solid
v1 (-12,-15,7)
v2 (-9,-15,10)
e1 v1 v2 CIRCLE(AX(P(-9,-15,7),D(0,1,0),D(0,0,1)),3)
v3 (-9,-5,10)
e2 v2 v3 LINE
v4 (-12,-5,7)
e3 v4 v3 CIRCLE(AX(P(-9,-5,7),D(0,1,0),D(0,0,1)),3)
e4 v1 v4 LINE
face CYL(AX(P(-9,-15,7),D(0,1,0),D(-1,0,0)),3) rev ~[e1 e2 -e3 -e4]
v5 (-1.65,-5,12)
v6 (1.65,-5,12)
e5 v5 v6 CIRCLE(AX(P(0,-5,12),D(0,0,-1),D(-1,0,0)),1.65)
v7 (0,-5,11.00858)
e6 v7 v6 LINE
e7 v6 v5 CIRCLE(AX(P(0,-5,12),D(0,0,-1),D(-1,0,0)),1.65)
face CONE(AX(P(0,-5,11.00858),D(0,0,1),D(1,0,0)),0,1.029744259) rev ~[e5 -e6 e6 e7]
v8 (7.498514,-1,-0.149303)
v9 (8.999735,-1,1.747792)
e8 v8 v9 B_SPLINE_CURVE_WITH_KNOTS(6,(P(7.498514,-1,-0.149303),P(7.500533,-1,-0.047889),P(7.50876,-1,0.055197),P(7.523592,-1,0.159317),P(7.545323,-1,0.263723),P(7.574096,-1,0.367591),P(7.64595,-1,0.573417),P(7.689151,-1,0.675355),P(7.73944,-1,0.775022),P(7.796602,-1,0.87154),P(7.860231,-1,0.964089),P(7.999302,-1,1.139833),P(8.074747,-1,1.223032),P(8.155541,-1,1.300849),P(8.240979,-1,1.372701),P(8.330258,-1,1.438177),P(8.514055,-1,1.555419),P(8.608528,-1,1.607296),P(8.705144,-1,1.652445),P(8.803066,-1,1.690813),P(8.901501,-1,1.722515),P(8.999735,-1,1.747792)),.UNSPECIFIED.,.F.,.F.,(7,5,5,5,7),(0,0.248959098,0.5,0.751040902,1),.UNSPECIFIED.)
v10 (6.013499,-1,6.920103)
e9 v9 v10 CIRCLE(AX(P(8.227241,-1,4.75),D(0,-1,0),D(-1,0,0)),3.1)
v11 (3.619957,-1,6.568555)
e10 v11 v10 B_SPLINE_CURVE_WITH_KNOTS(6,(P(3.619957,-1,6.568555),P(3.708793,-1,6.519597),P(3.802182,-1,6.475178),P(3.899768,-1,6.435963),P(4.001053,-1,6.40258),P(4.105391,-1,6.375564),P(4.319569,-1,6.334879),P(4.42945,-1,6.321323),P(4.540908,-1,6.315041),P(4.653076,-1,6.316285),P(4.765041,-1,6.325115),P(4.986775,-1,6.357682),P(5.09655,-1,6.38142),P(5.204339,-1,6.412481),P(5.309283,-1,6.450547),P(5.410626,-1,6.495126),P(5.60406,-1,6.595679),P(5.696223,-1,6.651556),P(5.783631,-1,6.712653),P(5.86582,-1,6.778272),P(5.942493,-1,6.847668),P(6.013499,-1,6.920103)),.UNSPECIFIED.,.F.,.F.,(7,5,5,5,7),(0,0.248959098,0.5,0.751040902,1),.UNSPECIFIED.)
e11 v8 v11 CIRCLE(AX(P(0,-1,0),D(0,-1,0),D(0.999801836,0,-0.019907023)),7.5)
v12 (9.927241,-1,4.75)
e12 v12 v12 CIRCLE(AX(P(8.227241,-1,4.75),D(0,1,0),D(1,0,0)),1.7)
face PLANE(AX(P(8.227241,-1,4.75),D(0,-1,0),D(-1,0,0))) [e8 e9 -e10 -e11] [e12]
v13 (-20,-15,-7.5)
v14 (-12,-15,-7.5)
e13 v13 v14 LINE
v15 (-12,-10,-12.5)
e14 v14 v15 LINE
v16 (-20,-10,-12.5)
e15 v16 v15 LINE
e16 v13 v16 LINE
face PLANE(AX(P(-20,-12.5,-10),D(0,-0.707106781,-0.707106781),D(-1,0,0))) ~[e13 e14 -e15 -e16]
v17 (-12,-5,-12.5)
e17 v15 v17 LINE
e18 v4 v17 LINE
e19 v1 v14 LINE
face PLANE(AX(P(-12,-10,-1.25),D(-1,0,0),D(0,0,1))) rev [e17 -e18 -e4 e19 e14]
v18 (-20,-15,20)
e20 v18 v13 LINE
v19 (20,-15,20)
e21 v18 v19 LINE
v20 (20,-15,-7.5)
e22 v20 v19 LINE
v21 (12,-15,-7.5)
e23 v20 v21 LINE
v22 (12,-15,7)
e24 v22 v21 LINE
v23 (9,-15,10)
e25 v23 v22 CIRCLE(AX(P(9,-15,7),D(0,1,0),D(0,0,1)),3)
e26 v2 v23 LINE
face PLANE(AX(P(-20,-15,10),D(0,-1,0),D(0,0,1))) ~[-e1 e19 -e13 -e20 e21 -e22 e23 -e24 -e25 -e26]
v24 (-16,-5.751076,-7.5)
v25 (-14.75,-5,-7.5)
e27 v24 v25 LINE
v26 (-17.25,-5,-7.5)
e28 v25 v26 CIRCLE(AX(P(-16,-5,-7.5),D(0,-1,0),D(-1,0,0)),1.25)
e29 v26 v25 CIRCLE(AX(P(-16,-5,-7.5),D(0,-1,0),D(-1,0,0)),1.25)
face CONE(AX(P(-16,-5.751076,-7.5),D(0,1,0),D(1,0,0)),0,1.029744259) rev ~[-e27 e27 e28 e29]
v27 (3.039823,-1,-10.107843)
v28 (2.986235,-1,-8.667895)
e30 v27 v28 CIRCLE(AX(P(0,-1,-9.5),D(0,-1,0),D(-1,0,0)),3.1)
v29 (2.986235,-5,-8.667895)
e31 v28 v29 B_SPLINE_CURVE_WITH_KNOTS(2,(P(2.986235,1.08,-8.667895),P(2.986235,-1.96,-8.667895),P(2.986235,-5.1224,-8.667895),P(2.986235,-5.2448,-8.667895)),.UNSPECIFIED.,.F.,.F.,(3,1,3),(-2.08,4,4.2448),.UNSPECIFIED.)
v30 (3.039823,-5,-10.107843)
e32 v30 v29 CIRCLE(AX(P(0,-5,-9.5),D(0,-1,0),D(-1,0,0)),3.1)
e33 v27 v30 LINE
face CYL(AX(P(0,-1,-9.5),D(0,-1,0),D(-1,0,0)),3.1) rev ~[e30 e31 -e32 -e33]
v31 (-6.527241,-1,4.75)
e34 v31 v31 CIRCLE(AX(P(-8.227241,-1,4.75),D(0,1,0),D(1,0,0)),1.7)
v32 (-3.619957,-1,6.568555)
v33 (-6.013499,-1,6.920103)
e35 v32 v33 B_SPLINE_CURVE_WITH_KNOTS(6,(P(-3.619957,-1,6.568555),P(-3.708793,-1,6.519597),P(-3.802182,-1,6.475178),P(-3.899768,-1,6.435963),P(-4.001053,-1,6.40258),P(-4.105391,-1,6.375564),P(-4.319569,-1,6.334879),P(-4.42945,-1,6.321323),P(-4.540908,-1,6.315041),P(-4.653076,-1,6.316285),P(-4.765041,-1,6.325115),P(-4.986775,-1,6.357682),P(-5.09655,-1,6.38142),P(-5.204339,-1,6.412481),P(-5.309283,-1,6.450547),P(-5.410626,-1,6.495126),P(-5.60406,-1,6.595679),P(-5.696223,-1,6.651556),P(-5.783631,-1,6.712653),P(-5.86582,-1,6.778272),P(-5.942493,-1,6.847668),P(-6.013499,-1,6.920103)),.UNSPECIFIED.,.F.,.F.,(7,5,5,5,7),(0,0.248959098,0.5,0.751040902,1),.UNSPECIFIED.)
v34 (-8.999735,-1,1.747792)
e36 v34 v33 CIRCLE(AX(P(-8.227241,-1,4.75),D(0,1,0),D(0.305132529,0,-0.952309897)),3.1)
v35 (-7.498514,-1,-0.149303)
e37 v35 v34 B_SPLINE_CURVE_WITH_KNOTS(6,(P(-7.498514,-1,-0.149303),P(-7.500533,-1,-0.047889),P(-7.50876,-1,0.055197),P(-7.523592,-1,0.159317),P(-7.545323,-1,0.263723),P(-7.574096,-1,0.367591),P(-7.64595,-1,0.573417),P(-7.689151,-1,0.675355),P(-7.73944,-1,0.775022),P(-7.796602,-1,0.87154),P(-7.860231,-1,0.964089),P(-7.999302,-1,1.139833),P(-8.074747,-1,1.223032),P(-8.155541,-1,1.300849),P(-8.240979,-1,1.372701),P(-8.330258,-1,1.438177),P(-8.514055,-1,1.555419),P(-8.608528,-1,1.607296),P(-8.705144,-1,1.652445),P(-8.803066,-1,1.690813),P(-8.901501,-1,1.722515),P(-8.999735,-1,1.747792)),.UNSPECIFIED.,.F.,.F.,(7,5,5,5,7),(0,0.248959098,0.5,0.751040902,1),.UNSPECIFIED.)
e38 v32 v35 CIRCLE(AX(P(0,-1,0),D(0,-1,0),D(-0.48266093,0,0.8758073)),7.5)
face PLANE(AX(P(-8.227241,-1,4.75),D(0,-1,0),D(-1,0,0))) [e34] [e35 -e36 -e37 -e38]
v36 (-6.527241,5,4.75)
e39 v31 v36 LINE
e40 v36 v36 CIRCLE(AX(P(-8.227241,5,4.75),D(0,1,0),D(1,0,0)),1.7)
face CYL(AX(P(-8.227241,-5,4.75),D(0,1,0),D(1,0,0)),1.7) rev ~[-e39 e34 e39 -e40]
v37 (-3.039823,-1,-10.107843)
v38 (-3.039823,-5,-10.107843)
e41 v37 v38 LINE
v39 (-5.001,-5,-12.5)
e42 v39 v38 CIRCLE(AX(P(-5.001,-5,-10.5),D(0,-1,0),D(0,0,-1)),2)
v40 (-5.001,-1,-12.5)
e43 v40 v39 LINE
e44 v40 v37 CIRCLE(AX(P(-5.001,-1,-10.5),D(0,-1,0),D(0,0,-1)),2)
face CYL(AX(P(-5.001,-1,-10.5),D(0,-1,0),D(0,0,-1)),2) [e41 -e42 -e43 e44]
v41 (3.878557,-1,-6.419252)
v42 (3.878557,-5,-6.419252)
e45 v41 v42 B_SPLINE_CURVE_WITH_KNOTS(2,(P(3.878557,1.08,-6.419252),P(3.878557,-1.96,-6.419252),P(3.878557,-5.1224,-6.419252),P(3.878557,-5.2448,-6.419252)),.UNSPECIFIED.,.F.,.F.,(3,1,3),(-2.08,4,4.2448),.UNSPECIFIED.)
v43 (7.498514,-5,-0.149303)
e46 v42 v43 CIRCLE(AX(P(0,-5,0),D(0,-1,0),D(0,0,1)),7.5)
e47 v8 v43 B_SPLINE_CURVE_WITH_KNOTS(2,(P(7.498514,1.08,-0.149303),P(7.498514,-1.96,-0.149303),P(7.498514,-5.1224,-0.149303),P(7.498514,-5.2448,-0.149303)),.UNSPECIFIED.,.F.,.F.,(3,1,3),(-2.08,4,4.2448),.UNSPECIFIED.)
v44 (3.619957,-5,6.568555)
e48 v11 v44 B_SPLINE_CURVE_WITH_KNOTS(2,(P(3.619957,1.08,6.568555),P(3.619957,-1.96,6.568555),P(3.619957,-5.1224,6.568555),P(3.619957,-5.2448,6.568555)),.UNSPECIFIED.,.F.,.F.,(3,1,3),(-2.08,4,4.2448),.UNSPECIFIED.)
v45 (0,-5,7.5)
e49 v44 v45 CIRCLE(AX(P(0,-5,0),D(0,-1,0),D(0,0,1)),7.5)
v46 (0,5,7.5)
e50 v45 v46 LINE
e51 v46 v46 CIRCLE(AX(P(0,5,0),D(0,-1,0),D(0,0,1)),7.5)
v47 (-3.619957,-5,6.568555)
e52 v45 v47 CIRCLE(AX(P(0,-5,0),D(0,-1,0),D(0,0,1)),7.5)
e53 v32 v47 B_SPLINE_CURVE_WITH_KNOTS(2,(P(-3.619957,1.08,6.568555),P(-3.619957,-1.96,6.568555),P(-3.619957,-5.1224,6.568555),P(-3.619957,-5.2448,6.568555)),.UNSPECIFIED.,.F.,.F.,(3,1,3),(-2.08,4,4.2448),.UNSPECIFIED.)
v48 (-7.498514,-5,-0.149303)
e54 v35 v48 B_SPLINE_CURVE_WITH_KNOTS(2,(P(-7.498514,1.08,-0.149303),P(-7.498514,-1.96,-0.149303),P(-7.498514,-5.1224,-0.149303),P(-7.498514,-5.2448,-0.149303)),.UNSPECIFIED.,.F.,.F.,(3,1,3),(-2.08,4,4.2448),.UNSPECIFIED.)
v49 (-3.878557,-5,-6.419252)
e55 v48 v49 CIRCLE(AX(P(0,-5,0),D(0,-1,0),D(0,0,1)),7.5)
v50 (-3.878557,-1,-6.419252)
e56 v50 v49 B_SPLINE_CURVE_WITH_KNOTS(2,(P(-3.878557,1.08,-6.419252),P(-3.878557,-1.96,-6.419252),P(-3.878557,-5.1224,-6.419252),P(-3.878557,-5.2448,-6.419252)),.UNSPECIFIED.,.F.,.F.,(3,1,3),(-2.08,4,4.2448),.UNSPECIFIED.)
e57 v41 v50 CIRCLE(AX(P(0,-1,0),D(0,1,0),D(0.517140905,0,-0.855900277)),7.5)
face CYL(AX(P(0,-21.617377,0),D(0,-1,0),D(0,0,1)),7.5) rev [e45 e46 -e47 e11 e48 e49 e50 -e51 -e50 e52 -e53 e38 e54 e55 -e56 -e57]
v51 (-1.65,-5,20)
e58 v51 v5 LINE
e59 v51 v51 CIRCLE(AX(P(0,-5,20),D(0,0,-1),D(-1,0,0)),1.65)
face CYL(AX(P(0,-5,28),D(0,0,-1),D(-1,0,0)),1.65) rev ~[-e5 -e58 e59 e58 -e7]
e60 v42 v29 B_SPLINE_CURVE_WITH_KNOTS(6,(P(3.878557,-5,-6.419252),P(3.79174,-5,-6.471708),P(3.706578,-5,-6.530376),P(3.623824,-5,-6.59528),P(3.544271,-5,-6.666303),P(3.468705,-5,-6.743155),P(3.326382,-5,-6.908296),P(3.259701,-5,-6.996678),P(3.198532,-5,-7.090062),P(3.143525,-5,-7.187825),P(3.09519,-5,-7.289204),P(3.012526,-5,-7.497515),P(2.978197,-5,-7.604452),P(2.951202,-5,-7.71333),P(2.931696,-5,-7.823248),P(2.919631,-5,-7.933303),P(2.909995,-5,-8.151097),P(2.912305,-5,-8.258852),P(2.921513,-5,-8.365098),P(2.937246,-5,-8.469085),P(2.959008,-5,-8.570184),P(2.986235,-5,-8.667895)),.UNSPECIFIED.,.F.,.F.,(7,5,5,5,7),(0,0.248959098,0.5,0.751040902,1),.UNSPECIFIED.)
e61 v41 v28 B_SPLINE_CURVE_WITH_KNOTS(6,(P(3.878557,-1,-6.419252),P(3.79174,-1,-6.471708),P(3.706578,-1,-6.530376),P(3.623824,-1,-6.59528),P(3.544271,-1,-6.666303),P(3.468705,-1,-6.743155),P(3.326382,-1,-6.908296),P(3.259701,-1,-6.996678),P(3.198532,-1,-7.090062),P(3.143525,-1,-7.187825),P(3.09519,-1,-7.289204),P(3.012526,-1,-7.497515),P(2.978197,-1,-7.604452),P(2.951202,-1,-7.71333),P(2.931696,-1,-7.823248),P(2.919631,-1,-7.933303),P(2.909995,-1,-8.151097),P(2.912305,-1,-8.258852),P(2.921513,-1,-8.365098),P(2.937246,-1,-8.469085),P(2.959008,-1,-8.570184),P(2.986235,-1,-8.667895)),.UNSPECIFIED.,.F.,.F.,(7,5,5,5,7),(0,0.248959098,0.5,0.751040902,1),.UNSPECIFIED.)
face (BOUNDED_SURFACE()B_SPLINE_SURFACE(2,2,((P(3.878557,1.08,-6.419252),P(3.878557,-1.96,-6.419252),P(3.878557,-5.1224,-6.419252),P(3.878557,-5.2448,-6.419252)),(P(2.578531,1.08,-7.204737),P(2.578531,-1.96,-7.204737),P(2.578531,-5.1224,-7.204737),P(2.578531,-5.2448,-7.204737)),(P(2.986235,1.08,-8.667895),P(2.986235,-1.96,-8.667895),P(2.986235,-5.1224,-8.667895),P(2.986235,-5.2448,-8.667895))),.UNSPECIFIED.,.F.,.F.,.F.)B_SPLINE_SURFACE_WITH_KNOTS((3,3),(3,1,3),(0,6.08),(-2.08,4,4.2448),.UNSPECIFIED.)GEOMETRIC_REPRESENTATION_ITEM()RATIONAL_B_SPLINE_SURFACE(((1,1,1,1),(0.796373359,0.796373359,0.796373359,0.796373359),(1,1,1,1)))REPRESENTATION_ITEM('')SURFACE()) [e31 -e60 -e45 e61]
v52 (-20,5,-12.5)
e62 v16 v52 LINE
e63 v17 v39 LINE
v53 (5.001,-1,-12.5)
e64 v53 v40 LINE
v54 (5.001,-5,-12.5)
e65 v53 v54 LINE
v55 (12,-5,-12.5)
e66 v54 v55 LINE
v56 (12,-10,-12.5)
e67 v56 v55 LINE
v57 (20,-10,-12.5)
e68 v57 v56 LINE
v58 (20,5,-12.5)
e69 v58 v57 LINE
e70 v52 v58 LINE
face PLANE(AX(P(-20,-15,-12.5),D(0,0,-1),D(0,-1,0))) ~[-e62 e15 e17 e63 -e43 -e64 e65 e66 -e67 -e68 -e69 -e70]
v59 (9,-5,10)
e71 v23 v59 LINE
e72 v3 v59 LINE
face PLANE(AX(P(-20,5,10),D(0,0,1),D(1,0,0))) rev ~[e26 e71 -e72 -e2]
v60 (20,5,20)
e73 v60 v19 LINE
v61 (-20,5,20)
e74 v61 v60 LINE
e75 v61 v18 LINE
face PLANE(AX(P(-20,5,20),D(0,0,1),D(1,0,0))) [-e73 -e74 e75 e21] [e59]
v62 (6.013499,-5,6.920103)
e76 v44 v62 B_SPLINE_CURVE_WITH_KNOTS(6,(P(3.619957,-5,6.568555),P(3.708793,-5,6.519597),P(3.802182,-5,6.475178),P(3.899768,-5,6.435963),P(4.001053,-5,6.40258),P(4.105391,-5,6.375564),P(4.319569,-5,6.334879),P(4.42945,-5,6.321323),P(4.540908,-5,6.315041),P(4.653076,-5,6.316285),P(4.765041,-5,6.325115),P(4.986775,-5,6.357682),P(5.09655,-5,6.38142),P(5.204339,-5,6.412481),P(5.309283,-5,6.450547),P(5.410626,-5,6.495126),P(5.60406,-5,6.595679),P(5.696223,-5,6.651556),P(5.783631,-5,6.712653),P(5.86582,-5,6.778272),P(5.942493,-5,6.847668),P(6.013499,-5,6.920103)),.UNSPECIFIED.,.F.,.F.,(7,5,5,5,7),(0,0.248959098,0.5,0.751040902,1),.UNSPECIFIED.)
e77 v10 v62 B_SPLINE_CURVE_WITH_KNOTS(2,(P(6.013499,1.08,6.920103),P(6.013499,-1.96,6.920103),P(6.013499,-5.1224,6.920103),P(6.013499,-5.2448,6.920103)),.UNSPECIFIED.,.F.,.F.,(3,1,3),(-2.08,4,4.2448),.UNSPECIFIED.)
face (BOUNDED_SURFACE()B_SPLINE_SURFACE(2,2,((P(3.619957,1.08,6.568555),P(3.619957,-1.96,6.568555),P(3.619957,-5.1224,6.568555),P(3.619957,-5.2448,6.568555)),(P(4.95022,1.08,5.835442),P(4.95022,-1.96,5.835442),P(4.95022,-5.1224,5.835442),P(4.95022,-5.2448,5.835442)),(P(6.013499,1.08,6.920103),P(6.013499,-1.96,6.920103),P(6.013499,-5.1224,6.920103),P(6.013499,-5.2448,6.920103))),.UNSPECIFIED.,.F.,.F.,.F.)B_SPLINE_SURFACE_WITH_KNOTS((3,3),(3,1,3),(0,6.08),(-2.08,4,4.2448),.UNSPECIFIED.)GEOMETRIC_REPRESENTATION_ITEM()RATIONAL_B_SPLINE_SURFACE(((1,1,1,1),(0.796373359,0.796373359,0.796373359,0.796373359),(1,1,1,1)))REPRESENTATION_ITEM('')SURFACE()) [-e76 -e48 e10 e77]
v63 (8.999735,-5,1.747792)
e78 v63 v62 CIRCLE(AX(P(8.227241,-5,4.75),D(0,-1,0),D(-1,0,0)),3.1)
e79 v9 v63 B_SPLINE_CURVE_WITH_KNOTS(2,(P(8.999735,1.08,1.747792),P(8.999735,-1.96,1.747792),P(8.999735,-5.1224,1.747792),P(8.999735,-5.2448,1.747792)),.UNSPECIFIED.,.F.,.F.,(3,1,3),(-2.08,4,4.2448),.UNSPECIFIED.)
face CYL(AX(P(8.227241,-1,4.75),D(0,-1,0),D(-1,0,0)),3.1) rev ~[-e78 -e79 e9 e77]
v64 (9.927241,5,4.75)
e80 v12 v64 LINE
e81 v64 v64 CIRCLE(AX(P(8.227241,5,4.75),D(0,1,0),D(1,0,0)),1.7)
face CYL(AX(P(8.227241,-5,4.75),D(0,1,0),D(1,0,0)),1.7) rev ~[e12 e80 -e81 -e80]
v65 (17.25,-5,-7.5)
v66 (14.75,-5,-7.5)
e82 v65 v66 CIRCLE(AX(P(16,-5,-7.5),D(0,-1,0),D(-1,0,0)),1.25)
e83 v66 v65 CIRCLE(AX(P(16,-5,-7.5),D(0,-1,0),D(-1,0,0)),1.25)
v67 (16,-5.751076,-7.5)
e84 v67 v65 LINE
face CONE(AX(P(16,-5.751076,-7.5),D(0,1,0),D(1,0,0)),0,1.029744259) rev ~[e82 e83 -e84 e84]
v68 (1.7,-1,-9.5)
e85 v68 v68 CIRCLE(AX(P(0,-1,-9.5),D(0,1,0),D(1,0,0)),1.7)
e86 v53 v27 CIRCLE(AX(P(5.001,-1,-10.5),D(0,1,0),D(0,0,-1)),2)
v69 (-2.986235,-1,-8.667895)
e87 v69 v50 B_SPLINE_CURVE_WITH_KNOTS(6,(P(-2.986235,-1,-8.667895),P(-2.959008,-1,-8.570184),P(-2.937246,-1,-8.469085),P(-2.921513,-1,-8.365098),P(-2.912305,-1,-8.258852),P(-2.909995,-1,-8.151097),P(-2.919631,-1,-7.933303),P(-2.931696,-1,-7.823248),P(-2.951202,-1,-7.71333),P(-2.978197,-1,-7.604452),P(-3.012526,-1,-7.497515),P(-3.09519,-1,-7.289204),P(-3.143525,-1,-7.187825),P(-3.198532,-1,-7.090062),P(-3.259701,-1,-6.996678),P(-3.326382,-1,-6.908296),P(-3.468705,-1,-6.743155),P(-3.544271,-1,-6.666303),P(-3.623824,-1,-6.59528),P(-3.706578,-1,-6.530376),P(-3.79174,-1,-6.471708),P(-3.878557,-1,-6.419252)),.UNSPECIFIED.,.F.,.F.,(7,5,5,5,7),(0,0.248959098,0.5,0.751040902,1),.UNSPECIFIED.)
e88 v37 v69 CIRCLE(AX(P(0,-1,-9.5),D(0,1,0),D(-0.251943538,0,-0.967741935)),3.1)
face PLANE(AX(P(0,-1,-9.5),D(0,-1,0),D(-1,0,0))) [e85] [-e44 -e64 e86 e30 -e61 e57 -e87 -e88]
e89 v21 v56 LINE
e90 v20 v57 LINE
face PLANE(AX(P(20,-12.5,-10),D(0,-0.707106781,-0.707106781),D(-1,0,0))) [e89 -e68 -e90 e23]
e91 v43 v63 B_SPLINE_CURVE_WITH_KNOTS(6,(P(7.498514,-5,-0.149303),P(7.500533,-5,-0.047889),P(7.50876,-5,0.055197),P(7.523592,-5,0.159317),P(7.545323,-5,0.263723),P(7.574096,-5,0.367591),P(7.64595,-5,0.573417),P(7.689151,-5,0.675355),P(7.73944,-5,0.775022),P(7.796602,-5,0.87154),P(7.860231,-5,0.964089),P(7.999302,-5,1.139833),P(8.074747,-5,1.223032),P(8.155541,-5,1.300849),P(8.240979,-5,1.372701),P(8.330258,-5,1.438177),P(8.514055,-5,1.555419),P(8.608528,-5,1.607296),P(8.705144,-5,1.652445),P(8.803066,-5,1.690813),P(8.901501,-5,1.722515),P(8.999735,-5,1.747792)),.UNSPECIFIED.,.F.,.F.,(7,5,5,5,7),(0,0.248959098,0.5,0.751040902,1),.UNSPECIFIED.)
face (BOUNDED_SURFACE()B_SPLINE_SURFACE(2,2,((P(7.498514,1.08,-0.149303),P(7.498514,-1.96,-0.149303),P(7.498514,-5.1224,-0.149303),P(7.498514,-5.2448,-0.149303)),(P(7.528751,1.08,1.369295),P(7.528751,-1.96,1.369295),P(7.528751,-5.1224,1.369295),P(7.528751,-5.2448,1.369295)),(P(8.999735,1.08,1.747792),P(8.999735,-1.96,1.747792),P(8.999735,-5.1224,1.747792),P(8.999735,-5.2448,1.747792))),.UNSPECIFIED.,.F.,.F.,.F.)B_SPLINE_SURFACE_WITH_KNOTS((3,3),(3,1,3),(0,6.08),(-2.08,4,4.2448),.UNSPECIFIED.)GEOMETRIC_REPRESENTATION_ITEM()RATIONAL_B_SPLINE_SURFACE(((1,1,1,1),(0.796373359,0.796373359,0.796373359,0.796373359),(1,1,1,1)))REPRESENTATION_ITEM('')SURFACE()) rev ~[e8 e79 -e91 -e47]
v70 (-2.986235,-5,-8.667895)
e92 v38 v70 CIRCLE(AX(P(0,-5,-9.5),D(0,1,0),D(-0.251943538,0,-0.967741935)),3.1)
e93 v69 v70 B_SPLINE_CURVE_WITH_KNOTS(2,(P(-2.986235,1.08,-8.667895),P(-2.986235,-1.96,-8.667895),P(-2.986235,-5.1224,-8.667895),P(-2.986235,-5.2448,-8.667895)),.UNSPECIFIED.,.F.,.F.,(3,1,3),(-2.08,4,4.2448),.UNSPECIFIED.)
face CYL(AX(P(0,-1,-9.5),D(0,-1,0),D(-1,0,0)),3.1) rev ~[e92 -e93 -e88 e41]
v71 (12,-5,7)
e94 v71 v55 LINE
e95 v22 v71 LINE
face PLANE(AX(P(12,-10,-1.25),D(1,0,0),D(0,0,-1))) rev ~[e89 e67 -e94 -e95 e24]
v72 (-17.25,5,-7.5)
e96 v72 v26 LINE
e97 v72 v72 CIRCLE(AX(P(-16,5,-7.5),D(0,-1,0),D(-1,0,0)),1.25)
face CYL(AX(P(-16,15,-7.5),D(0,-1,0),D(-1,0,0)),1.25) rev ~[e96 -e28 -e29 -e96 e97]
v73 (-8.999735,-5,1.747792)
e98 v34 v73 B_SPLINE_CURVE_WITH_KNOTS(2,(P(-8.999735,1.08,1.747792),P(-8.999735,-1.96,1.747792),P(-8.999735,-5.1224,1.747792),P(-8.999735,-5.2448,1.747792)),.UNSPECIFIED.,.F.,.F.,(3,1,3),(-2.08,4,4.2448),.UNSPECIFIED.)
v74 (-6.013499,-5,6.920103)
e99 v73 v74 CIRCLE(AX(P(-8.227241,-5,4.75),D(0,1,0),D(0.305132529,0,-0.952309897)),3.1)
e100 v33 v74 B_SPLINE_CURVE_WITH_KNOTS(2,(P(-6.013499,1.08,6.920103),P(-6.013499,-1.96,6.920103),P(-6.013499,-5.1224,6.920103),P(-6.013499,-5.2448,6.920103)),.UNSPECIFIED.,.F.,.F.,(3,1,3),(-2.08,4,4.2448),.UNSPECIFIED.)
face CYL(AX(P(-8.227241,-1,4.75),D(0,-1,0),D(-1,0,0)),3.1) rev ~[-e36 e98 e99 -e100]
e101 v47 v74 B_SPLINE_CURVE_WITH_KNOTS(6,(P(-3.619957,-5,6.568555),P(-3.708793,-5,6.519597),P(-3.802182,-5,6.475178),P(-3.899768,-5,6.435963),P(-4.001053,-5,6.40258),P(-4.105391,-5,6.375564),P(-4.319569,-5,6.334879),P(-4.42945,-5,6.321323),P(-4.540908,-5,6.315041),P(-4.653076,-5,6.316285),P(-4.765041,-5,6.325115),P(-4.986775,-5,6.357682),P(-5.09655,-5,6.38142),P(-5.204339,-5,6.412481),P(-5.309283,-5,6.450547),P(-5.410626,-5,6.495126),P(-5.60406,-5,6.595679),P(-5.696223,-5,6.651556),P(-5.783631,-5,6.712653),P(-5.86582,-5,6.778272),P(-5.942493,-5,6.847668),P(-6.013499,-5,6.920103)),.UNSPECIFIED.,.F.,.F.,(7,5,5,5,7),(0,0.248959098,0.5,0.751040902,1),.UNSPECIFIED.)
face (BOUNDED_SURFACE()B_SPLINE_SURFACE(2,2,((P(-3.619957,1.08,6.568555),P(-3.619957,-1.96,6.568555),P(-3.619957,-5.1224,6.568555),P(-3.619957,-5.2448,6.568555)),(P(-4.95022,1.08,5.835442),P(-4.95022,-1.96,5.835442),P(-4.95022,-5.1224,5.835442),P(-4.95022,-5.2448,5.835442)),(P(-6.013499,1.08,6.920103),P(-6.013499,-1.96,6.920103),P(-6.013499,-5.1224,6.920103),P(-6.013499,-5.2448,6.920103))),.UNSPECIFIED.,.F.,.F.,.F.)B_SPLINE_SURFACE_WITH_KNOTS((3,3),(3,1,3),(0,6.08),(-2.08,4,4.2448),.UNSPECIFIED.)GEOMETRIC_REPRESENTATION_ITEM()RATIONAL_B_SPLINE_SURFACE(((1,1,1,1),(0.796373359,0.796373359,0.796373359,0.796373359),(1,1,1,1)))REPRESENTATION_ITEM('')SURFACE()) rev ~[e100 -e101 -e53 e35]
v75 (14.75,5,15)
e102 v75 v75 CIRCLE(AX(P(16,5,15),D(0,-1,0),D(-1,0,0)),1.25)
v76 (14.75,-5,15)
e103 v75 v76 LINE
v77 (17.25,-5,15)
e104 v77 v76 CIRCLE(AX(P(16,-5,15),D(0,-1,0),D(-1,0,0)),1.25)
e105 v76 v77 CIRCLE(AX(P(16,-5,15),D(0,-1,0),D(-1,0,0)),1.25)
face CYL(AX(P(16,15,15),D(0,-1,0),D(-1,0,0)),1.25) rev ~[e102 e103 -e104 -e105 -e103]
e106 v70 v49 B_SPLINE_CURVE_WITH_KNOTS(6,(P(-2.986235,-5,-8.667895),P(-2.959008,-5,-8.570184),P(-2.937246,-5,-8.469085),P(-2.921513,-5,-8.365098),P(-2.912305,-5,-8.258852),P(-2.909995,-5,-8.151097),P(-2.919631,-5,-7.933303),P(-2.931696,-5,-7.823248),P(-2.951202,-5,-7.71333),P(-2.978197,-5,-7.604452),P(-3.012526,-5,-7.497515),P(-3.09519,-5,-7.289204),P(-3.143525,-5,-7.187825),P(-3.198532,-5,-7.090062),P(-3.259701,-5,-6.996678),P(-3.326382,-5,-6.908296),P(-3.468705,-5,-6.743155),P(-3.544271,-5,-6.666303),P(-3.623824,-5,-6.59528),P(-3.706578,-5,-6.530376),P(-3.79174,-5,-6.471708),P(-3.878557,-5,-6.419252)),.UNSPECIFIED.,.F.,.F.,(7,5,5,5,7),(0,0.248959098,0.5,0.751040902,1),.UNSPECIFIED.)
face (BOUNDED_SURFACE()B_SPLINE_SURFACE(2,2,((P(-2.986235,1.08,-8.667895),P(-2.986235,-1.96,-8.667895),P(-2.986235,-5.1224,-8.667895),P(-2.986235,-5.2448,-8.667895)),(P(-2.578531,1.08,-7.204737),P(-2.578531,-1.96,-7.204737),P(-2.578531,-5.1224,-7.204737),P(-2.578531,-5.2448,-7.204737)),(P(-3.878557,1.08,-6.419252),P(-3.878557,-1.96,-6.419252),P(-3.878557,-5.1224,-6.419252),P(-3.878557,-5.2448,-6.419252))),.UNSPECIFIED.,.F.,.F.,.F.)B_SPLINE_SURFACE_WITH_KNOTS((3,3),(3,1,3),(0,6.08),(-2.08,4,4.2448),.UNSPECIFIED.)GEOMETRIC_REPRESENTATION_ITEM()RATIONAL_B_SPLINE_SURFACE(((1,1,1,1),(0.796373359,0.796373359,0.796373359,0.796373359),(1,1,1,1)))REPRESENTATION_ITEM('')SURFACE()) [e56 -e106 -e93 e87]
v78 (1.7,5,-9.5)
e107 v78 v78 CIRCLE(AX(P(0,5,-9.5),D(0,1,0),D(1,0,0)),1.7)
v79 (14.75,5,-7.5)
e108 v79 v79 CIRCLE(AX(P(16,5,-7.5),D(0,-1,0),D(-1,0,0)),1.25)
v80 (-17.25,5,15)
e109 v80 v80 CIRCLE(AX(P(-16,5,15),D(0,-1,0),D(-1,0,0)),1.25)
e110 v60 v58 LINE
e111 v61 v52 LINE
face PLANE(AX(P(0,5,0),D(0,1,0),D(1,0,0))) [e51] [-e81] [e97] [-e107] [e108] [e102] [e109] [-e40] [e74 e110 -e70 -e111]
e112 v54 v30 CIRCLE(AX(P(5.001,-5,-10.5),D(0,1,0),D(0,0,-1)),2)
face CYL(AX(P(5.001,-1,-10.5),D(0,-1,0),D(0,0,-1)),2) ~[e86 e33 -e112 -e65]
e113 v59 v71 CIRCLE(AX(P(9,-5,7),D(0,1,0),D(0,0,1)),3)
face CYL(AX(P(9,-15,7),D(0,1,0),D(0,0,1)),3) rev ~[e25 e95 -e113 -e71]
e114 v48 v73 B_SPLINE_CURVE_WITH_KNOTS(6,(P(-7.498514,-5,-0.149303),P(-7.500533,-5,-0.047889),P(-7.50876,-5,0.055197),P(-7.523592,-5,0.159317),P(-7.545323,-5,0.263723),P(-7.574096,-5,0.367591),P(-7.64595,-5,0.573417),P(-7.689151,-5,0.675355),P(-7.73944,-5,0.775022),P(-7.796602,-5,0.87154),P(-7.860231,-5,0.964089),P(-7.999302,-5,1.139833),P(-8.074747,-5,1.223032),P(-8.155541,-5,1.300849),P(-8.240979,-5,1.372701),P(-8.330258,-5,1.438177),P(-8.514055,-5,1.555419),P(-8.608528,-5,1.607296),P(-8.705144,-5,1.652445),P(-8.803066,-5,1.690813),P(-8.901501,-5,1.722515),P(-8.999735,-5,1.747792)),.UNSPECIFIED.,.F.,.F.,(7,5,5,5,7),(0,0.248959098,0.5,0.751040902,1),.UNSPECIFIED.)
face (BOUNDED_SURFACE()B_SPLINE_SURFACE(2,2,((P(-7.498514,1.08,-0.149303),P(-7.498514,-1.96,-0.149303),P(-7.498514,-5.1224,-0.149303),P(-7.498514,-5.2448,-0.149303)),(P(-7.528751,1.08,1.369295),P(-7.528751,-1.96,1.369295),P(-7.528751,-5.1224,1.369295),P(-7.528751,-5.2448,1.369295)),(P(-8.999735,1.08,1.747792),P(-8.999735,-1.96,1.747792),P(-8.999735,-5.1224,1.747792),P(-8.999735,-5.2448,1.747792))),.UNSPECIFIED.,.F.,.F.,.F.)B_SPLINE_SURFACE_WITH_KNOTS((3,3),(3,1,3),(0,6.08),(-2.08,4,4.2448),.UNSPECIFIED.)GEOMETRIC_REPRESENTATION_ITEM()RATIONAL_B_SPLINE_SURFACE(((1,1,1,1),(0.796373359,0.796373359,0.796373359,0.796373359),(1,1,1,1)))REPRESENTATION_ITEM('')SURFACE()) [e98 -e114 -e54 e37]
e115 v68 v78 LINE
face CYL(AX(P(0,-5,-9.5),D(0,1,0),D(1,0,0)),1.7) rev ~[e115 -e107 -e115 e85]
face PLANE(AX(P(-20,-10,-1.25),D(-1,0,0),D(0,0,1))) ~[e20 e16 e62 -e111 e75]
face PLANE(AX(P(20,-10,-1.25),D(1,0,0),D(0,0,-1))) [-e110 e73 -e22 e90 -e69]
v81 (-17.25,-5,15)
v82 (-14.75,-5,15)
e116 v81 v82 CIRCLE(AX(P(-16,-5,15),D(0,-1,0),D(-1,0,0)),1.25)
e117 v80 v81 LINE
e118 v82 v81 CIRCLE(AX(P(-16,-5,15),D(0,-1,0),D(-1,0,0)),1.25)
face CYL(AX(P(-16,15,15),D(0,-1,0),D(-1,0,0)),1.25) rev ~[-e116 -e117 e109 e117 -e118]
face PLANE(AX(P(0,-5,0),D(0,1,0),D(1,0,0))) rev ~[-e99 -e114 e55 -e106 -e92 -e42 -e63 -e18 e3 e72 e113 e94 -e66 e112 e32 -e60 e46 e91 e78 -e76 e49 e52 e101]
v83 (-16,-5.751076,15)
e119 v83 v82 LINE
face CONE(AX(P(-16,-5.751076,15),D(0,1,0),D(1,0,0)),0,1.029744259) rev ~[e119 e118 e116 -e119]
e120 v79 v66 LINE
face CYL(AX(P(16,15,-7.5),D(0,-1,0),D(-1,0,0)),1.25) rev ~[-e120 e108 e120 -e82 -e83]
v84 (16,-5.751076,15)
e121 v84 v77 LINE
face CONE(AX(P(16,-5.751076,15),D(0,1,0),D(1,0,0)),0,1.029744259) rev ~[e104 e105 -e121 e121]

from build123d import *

# Parameters (mm, degrees)
SKETCH3_W                                            = 40
SKETCH3_H                                            = 25
BOSS_EXTRUDE2_DEPTH                                  = 5
CUT_EXTRUDE2_DEPTH                                   = 26.617376915
CUT_EXTRUDE2_DEPTH_BACK                              = 26.617376915
SKETCH4_R                                            = 7.5
SKETCH5_W                                            = 40
SKETCH5_H                                            = 10
BOSS_EXTRUDE3_DEPTH                                  = 20
CBORE_FOR_M3_HEXAGON_SOCKET_HEAD_CAP_SCR_D           = 3.4
CBORE_FOR_M3_HEXAGON_SOCKET_HEAD_CAP_SCR_CBORE_D     = 6.2
CBORE_FOR_M3_HEXAGON_SOCKET_HEAD_CAP_SCR_CBORE_DEPTH = 4
FILLET1_R                                            = 2
SKETCH9_W                                            = 22.5
SKETCH9_H                                            = 10
BOSS_EXTRUDE4_DEPTH                                  = 8
CHAMFER1_SIZE                                        = 5
M3_TAPPED_HOLE1_D                                    = 2.5
M3_TAPPED_HOLE1_DEPTH                                = 10
M3_TAPPED_HOLE1_TIP                                  = 0.751075774
FILLET2_R                                            = 3
M4_TAPPED_HOLE1_D                                    = 3.3
M4_TAPPED_HOLE1_DEPTH                                = 8
M4_TAPPED_HOLE1_TIP                                  = 0.991420021


with BuildPart() as part:
    # Sketch3 → Boss-Extrude2 (new, symmetric)
    with BuildSketch(Plane(origin=(0, 0, 0), x_dir=(1, 0, 0), z_dir=(0, 1, 0))):
        Rectangle(SKETCH3_W, SKETCH3_H)
    extrude(amount=BOSS_EXTRUDE2_DEPTH, both=True)

    # Sketch4 → Cut-Extrude2 (cut, two sides: drawn at the far end of the back side and taken through both)
    with BuildSketch(Plane(origin=(0, 5, 0), x_dir=(1, 0, 0), z_dir=(0, 1, 0)).offset(-CUT_EXTRUDE2_DEPTH_BACK)):
        with Locations(Location((0, 0, 0), (0, 0, 270))):
            Circle(SKETCH4_R)
    extrude(amount=CUT_EXTRUDE2_DEPTH + CUT_EXTRUDE2_DEPTH_BACK, mode=Mode.SUBTRACT)

    # Sketch5 → Boss-Extrude3 (add)
    with BuildSketch(Plane.XZ.offset(-5)):
        with Locations((0, 15)):
            Rectangle(SKETCH5_W, SKETCH5_H)
    extrude(amount=BOSS_EXTRUDE3_DEPTH)

    # CBORE for M3 Hexagon socket head cap screws1 (through all)
    with Locations(Plane(origin=(0, -5, 0), x_dir=(-1, 0, 0), z_dir=(0, -1, 0))):
        with Locations((0, 9.5), (8.227241336, -4.75), (-8.227241336, -4.75)):
            CounterBoreHole(CBORE_FOR_M3_HEXAGON_SOCKET_HEAD_CAP_SCR_D / 2, CBORE_FOR_M3_HEXAGON_SOCKET_HEAD_CAP_SCR_CBORE_D / 2, CBORE_FOR_M3_HEXAGON_SOCKET_HEAD_CAP_SCR_CBORE_DEPTH)

    # Fillet1
    fillet1_edges = [part.edges().sort_by_distance(p)[0] for p in [
        (5.197639771, -3, 5.406897522),
        (7.281330495, -3, 1.79783932),
        (-7.281330495, -3, 1.79783932),
        (-5.197639771, -3, 5.406897522),
        (2.083690725, -3, -7.204736842),
        (-2.083690725, -3, -7.204736842),
        (-0.781024968, -3, -12.5),
        (0.781024968, -3, -12.5),
    ]]
    fillet(fillet1_edges, radius=FILLET1_R)

    # Sketch9 → Boss-Extrude4 (add)
    with BuildSketch(Plane(origin=(20, 0, 0), x_dir=(0, 0, -1), z_dir=(1, 0, 0))):
        with Locations((1.25, -10)):
            Rectangle(SKETCH9_W, SKETCH9_H)
    boss_extrude4 = extrude(amount=-BOSS_EXTRUDE4_DEPTH)

    # Mirror1: Boss-Extrude4 across plane
    add(boss_extrude4.mirror(Plane(origin=(0, 0, 0), x_dir=(0, 0, 1), z_dir=(1, 0, 0))))

    # Chamfer1
    chamfer1_edges = [part.edges().sort_by_distance(p)[0] for p in [
        (16, -15, -12.5),
        (-16, -15, -12.5),
    ]]
    chamfer(chamfer1_edges, length=CHAMFER1_SIZE)

    # M3 Tapped Hole1
    with Locations(Plane(origin=(0, 5, 0), x_dir=(1, 0, 0), z_dir=(0, 1, 0))):
        with Locations((-16, 7.5), (-16, -15), (16, -15), (16, 7.5)):
            Hole(M3_TAPPED_HOLE1_D / 2, depth=M3_TAPPED_HOLE1_DEPTH)
            with Locations((0, 0, -(M3_TAPPED_HOLE1_DEPTH + M3_TAPPED_HOLE1_TIP / 2))):  # 118° drill point
                Cone(0, M3_TAPPED_HOLE1_D / 2, M3_TAPPED_HOLE1_TIP, mode=Mode.SUBTRACT)

    # Fillet2
    fillet2_edges = [part.edges().sort_by_distance(p)[0] for p in [
        (12, -10, 10),
        (-12, -10, 10),
    ]]
    fillet(fillet2_edges, radius=FILLET2_R)

    # M4 Tapped Hole1
    with Locations(Plane.XY.offset(20)):
        with Locations((0, -5)):
            Hole(M4_TAPPED_HOLE1_D / 2, depth=M4_TAPPED_HOLE1_DEPTH)
            with Locations((0, 0, -(M4_TAPPED_HOLE1_DEPTH + M4_TAPPED_HOLE1_TIP / 2))):  # 118° drill point
                Cone(0, M4_TAPPED_HOLE1_D / 2, M4_TAPPED_HOLE1_TIP, mode=Mode.SUBTRACT)


solid = part.part
